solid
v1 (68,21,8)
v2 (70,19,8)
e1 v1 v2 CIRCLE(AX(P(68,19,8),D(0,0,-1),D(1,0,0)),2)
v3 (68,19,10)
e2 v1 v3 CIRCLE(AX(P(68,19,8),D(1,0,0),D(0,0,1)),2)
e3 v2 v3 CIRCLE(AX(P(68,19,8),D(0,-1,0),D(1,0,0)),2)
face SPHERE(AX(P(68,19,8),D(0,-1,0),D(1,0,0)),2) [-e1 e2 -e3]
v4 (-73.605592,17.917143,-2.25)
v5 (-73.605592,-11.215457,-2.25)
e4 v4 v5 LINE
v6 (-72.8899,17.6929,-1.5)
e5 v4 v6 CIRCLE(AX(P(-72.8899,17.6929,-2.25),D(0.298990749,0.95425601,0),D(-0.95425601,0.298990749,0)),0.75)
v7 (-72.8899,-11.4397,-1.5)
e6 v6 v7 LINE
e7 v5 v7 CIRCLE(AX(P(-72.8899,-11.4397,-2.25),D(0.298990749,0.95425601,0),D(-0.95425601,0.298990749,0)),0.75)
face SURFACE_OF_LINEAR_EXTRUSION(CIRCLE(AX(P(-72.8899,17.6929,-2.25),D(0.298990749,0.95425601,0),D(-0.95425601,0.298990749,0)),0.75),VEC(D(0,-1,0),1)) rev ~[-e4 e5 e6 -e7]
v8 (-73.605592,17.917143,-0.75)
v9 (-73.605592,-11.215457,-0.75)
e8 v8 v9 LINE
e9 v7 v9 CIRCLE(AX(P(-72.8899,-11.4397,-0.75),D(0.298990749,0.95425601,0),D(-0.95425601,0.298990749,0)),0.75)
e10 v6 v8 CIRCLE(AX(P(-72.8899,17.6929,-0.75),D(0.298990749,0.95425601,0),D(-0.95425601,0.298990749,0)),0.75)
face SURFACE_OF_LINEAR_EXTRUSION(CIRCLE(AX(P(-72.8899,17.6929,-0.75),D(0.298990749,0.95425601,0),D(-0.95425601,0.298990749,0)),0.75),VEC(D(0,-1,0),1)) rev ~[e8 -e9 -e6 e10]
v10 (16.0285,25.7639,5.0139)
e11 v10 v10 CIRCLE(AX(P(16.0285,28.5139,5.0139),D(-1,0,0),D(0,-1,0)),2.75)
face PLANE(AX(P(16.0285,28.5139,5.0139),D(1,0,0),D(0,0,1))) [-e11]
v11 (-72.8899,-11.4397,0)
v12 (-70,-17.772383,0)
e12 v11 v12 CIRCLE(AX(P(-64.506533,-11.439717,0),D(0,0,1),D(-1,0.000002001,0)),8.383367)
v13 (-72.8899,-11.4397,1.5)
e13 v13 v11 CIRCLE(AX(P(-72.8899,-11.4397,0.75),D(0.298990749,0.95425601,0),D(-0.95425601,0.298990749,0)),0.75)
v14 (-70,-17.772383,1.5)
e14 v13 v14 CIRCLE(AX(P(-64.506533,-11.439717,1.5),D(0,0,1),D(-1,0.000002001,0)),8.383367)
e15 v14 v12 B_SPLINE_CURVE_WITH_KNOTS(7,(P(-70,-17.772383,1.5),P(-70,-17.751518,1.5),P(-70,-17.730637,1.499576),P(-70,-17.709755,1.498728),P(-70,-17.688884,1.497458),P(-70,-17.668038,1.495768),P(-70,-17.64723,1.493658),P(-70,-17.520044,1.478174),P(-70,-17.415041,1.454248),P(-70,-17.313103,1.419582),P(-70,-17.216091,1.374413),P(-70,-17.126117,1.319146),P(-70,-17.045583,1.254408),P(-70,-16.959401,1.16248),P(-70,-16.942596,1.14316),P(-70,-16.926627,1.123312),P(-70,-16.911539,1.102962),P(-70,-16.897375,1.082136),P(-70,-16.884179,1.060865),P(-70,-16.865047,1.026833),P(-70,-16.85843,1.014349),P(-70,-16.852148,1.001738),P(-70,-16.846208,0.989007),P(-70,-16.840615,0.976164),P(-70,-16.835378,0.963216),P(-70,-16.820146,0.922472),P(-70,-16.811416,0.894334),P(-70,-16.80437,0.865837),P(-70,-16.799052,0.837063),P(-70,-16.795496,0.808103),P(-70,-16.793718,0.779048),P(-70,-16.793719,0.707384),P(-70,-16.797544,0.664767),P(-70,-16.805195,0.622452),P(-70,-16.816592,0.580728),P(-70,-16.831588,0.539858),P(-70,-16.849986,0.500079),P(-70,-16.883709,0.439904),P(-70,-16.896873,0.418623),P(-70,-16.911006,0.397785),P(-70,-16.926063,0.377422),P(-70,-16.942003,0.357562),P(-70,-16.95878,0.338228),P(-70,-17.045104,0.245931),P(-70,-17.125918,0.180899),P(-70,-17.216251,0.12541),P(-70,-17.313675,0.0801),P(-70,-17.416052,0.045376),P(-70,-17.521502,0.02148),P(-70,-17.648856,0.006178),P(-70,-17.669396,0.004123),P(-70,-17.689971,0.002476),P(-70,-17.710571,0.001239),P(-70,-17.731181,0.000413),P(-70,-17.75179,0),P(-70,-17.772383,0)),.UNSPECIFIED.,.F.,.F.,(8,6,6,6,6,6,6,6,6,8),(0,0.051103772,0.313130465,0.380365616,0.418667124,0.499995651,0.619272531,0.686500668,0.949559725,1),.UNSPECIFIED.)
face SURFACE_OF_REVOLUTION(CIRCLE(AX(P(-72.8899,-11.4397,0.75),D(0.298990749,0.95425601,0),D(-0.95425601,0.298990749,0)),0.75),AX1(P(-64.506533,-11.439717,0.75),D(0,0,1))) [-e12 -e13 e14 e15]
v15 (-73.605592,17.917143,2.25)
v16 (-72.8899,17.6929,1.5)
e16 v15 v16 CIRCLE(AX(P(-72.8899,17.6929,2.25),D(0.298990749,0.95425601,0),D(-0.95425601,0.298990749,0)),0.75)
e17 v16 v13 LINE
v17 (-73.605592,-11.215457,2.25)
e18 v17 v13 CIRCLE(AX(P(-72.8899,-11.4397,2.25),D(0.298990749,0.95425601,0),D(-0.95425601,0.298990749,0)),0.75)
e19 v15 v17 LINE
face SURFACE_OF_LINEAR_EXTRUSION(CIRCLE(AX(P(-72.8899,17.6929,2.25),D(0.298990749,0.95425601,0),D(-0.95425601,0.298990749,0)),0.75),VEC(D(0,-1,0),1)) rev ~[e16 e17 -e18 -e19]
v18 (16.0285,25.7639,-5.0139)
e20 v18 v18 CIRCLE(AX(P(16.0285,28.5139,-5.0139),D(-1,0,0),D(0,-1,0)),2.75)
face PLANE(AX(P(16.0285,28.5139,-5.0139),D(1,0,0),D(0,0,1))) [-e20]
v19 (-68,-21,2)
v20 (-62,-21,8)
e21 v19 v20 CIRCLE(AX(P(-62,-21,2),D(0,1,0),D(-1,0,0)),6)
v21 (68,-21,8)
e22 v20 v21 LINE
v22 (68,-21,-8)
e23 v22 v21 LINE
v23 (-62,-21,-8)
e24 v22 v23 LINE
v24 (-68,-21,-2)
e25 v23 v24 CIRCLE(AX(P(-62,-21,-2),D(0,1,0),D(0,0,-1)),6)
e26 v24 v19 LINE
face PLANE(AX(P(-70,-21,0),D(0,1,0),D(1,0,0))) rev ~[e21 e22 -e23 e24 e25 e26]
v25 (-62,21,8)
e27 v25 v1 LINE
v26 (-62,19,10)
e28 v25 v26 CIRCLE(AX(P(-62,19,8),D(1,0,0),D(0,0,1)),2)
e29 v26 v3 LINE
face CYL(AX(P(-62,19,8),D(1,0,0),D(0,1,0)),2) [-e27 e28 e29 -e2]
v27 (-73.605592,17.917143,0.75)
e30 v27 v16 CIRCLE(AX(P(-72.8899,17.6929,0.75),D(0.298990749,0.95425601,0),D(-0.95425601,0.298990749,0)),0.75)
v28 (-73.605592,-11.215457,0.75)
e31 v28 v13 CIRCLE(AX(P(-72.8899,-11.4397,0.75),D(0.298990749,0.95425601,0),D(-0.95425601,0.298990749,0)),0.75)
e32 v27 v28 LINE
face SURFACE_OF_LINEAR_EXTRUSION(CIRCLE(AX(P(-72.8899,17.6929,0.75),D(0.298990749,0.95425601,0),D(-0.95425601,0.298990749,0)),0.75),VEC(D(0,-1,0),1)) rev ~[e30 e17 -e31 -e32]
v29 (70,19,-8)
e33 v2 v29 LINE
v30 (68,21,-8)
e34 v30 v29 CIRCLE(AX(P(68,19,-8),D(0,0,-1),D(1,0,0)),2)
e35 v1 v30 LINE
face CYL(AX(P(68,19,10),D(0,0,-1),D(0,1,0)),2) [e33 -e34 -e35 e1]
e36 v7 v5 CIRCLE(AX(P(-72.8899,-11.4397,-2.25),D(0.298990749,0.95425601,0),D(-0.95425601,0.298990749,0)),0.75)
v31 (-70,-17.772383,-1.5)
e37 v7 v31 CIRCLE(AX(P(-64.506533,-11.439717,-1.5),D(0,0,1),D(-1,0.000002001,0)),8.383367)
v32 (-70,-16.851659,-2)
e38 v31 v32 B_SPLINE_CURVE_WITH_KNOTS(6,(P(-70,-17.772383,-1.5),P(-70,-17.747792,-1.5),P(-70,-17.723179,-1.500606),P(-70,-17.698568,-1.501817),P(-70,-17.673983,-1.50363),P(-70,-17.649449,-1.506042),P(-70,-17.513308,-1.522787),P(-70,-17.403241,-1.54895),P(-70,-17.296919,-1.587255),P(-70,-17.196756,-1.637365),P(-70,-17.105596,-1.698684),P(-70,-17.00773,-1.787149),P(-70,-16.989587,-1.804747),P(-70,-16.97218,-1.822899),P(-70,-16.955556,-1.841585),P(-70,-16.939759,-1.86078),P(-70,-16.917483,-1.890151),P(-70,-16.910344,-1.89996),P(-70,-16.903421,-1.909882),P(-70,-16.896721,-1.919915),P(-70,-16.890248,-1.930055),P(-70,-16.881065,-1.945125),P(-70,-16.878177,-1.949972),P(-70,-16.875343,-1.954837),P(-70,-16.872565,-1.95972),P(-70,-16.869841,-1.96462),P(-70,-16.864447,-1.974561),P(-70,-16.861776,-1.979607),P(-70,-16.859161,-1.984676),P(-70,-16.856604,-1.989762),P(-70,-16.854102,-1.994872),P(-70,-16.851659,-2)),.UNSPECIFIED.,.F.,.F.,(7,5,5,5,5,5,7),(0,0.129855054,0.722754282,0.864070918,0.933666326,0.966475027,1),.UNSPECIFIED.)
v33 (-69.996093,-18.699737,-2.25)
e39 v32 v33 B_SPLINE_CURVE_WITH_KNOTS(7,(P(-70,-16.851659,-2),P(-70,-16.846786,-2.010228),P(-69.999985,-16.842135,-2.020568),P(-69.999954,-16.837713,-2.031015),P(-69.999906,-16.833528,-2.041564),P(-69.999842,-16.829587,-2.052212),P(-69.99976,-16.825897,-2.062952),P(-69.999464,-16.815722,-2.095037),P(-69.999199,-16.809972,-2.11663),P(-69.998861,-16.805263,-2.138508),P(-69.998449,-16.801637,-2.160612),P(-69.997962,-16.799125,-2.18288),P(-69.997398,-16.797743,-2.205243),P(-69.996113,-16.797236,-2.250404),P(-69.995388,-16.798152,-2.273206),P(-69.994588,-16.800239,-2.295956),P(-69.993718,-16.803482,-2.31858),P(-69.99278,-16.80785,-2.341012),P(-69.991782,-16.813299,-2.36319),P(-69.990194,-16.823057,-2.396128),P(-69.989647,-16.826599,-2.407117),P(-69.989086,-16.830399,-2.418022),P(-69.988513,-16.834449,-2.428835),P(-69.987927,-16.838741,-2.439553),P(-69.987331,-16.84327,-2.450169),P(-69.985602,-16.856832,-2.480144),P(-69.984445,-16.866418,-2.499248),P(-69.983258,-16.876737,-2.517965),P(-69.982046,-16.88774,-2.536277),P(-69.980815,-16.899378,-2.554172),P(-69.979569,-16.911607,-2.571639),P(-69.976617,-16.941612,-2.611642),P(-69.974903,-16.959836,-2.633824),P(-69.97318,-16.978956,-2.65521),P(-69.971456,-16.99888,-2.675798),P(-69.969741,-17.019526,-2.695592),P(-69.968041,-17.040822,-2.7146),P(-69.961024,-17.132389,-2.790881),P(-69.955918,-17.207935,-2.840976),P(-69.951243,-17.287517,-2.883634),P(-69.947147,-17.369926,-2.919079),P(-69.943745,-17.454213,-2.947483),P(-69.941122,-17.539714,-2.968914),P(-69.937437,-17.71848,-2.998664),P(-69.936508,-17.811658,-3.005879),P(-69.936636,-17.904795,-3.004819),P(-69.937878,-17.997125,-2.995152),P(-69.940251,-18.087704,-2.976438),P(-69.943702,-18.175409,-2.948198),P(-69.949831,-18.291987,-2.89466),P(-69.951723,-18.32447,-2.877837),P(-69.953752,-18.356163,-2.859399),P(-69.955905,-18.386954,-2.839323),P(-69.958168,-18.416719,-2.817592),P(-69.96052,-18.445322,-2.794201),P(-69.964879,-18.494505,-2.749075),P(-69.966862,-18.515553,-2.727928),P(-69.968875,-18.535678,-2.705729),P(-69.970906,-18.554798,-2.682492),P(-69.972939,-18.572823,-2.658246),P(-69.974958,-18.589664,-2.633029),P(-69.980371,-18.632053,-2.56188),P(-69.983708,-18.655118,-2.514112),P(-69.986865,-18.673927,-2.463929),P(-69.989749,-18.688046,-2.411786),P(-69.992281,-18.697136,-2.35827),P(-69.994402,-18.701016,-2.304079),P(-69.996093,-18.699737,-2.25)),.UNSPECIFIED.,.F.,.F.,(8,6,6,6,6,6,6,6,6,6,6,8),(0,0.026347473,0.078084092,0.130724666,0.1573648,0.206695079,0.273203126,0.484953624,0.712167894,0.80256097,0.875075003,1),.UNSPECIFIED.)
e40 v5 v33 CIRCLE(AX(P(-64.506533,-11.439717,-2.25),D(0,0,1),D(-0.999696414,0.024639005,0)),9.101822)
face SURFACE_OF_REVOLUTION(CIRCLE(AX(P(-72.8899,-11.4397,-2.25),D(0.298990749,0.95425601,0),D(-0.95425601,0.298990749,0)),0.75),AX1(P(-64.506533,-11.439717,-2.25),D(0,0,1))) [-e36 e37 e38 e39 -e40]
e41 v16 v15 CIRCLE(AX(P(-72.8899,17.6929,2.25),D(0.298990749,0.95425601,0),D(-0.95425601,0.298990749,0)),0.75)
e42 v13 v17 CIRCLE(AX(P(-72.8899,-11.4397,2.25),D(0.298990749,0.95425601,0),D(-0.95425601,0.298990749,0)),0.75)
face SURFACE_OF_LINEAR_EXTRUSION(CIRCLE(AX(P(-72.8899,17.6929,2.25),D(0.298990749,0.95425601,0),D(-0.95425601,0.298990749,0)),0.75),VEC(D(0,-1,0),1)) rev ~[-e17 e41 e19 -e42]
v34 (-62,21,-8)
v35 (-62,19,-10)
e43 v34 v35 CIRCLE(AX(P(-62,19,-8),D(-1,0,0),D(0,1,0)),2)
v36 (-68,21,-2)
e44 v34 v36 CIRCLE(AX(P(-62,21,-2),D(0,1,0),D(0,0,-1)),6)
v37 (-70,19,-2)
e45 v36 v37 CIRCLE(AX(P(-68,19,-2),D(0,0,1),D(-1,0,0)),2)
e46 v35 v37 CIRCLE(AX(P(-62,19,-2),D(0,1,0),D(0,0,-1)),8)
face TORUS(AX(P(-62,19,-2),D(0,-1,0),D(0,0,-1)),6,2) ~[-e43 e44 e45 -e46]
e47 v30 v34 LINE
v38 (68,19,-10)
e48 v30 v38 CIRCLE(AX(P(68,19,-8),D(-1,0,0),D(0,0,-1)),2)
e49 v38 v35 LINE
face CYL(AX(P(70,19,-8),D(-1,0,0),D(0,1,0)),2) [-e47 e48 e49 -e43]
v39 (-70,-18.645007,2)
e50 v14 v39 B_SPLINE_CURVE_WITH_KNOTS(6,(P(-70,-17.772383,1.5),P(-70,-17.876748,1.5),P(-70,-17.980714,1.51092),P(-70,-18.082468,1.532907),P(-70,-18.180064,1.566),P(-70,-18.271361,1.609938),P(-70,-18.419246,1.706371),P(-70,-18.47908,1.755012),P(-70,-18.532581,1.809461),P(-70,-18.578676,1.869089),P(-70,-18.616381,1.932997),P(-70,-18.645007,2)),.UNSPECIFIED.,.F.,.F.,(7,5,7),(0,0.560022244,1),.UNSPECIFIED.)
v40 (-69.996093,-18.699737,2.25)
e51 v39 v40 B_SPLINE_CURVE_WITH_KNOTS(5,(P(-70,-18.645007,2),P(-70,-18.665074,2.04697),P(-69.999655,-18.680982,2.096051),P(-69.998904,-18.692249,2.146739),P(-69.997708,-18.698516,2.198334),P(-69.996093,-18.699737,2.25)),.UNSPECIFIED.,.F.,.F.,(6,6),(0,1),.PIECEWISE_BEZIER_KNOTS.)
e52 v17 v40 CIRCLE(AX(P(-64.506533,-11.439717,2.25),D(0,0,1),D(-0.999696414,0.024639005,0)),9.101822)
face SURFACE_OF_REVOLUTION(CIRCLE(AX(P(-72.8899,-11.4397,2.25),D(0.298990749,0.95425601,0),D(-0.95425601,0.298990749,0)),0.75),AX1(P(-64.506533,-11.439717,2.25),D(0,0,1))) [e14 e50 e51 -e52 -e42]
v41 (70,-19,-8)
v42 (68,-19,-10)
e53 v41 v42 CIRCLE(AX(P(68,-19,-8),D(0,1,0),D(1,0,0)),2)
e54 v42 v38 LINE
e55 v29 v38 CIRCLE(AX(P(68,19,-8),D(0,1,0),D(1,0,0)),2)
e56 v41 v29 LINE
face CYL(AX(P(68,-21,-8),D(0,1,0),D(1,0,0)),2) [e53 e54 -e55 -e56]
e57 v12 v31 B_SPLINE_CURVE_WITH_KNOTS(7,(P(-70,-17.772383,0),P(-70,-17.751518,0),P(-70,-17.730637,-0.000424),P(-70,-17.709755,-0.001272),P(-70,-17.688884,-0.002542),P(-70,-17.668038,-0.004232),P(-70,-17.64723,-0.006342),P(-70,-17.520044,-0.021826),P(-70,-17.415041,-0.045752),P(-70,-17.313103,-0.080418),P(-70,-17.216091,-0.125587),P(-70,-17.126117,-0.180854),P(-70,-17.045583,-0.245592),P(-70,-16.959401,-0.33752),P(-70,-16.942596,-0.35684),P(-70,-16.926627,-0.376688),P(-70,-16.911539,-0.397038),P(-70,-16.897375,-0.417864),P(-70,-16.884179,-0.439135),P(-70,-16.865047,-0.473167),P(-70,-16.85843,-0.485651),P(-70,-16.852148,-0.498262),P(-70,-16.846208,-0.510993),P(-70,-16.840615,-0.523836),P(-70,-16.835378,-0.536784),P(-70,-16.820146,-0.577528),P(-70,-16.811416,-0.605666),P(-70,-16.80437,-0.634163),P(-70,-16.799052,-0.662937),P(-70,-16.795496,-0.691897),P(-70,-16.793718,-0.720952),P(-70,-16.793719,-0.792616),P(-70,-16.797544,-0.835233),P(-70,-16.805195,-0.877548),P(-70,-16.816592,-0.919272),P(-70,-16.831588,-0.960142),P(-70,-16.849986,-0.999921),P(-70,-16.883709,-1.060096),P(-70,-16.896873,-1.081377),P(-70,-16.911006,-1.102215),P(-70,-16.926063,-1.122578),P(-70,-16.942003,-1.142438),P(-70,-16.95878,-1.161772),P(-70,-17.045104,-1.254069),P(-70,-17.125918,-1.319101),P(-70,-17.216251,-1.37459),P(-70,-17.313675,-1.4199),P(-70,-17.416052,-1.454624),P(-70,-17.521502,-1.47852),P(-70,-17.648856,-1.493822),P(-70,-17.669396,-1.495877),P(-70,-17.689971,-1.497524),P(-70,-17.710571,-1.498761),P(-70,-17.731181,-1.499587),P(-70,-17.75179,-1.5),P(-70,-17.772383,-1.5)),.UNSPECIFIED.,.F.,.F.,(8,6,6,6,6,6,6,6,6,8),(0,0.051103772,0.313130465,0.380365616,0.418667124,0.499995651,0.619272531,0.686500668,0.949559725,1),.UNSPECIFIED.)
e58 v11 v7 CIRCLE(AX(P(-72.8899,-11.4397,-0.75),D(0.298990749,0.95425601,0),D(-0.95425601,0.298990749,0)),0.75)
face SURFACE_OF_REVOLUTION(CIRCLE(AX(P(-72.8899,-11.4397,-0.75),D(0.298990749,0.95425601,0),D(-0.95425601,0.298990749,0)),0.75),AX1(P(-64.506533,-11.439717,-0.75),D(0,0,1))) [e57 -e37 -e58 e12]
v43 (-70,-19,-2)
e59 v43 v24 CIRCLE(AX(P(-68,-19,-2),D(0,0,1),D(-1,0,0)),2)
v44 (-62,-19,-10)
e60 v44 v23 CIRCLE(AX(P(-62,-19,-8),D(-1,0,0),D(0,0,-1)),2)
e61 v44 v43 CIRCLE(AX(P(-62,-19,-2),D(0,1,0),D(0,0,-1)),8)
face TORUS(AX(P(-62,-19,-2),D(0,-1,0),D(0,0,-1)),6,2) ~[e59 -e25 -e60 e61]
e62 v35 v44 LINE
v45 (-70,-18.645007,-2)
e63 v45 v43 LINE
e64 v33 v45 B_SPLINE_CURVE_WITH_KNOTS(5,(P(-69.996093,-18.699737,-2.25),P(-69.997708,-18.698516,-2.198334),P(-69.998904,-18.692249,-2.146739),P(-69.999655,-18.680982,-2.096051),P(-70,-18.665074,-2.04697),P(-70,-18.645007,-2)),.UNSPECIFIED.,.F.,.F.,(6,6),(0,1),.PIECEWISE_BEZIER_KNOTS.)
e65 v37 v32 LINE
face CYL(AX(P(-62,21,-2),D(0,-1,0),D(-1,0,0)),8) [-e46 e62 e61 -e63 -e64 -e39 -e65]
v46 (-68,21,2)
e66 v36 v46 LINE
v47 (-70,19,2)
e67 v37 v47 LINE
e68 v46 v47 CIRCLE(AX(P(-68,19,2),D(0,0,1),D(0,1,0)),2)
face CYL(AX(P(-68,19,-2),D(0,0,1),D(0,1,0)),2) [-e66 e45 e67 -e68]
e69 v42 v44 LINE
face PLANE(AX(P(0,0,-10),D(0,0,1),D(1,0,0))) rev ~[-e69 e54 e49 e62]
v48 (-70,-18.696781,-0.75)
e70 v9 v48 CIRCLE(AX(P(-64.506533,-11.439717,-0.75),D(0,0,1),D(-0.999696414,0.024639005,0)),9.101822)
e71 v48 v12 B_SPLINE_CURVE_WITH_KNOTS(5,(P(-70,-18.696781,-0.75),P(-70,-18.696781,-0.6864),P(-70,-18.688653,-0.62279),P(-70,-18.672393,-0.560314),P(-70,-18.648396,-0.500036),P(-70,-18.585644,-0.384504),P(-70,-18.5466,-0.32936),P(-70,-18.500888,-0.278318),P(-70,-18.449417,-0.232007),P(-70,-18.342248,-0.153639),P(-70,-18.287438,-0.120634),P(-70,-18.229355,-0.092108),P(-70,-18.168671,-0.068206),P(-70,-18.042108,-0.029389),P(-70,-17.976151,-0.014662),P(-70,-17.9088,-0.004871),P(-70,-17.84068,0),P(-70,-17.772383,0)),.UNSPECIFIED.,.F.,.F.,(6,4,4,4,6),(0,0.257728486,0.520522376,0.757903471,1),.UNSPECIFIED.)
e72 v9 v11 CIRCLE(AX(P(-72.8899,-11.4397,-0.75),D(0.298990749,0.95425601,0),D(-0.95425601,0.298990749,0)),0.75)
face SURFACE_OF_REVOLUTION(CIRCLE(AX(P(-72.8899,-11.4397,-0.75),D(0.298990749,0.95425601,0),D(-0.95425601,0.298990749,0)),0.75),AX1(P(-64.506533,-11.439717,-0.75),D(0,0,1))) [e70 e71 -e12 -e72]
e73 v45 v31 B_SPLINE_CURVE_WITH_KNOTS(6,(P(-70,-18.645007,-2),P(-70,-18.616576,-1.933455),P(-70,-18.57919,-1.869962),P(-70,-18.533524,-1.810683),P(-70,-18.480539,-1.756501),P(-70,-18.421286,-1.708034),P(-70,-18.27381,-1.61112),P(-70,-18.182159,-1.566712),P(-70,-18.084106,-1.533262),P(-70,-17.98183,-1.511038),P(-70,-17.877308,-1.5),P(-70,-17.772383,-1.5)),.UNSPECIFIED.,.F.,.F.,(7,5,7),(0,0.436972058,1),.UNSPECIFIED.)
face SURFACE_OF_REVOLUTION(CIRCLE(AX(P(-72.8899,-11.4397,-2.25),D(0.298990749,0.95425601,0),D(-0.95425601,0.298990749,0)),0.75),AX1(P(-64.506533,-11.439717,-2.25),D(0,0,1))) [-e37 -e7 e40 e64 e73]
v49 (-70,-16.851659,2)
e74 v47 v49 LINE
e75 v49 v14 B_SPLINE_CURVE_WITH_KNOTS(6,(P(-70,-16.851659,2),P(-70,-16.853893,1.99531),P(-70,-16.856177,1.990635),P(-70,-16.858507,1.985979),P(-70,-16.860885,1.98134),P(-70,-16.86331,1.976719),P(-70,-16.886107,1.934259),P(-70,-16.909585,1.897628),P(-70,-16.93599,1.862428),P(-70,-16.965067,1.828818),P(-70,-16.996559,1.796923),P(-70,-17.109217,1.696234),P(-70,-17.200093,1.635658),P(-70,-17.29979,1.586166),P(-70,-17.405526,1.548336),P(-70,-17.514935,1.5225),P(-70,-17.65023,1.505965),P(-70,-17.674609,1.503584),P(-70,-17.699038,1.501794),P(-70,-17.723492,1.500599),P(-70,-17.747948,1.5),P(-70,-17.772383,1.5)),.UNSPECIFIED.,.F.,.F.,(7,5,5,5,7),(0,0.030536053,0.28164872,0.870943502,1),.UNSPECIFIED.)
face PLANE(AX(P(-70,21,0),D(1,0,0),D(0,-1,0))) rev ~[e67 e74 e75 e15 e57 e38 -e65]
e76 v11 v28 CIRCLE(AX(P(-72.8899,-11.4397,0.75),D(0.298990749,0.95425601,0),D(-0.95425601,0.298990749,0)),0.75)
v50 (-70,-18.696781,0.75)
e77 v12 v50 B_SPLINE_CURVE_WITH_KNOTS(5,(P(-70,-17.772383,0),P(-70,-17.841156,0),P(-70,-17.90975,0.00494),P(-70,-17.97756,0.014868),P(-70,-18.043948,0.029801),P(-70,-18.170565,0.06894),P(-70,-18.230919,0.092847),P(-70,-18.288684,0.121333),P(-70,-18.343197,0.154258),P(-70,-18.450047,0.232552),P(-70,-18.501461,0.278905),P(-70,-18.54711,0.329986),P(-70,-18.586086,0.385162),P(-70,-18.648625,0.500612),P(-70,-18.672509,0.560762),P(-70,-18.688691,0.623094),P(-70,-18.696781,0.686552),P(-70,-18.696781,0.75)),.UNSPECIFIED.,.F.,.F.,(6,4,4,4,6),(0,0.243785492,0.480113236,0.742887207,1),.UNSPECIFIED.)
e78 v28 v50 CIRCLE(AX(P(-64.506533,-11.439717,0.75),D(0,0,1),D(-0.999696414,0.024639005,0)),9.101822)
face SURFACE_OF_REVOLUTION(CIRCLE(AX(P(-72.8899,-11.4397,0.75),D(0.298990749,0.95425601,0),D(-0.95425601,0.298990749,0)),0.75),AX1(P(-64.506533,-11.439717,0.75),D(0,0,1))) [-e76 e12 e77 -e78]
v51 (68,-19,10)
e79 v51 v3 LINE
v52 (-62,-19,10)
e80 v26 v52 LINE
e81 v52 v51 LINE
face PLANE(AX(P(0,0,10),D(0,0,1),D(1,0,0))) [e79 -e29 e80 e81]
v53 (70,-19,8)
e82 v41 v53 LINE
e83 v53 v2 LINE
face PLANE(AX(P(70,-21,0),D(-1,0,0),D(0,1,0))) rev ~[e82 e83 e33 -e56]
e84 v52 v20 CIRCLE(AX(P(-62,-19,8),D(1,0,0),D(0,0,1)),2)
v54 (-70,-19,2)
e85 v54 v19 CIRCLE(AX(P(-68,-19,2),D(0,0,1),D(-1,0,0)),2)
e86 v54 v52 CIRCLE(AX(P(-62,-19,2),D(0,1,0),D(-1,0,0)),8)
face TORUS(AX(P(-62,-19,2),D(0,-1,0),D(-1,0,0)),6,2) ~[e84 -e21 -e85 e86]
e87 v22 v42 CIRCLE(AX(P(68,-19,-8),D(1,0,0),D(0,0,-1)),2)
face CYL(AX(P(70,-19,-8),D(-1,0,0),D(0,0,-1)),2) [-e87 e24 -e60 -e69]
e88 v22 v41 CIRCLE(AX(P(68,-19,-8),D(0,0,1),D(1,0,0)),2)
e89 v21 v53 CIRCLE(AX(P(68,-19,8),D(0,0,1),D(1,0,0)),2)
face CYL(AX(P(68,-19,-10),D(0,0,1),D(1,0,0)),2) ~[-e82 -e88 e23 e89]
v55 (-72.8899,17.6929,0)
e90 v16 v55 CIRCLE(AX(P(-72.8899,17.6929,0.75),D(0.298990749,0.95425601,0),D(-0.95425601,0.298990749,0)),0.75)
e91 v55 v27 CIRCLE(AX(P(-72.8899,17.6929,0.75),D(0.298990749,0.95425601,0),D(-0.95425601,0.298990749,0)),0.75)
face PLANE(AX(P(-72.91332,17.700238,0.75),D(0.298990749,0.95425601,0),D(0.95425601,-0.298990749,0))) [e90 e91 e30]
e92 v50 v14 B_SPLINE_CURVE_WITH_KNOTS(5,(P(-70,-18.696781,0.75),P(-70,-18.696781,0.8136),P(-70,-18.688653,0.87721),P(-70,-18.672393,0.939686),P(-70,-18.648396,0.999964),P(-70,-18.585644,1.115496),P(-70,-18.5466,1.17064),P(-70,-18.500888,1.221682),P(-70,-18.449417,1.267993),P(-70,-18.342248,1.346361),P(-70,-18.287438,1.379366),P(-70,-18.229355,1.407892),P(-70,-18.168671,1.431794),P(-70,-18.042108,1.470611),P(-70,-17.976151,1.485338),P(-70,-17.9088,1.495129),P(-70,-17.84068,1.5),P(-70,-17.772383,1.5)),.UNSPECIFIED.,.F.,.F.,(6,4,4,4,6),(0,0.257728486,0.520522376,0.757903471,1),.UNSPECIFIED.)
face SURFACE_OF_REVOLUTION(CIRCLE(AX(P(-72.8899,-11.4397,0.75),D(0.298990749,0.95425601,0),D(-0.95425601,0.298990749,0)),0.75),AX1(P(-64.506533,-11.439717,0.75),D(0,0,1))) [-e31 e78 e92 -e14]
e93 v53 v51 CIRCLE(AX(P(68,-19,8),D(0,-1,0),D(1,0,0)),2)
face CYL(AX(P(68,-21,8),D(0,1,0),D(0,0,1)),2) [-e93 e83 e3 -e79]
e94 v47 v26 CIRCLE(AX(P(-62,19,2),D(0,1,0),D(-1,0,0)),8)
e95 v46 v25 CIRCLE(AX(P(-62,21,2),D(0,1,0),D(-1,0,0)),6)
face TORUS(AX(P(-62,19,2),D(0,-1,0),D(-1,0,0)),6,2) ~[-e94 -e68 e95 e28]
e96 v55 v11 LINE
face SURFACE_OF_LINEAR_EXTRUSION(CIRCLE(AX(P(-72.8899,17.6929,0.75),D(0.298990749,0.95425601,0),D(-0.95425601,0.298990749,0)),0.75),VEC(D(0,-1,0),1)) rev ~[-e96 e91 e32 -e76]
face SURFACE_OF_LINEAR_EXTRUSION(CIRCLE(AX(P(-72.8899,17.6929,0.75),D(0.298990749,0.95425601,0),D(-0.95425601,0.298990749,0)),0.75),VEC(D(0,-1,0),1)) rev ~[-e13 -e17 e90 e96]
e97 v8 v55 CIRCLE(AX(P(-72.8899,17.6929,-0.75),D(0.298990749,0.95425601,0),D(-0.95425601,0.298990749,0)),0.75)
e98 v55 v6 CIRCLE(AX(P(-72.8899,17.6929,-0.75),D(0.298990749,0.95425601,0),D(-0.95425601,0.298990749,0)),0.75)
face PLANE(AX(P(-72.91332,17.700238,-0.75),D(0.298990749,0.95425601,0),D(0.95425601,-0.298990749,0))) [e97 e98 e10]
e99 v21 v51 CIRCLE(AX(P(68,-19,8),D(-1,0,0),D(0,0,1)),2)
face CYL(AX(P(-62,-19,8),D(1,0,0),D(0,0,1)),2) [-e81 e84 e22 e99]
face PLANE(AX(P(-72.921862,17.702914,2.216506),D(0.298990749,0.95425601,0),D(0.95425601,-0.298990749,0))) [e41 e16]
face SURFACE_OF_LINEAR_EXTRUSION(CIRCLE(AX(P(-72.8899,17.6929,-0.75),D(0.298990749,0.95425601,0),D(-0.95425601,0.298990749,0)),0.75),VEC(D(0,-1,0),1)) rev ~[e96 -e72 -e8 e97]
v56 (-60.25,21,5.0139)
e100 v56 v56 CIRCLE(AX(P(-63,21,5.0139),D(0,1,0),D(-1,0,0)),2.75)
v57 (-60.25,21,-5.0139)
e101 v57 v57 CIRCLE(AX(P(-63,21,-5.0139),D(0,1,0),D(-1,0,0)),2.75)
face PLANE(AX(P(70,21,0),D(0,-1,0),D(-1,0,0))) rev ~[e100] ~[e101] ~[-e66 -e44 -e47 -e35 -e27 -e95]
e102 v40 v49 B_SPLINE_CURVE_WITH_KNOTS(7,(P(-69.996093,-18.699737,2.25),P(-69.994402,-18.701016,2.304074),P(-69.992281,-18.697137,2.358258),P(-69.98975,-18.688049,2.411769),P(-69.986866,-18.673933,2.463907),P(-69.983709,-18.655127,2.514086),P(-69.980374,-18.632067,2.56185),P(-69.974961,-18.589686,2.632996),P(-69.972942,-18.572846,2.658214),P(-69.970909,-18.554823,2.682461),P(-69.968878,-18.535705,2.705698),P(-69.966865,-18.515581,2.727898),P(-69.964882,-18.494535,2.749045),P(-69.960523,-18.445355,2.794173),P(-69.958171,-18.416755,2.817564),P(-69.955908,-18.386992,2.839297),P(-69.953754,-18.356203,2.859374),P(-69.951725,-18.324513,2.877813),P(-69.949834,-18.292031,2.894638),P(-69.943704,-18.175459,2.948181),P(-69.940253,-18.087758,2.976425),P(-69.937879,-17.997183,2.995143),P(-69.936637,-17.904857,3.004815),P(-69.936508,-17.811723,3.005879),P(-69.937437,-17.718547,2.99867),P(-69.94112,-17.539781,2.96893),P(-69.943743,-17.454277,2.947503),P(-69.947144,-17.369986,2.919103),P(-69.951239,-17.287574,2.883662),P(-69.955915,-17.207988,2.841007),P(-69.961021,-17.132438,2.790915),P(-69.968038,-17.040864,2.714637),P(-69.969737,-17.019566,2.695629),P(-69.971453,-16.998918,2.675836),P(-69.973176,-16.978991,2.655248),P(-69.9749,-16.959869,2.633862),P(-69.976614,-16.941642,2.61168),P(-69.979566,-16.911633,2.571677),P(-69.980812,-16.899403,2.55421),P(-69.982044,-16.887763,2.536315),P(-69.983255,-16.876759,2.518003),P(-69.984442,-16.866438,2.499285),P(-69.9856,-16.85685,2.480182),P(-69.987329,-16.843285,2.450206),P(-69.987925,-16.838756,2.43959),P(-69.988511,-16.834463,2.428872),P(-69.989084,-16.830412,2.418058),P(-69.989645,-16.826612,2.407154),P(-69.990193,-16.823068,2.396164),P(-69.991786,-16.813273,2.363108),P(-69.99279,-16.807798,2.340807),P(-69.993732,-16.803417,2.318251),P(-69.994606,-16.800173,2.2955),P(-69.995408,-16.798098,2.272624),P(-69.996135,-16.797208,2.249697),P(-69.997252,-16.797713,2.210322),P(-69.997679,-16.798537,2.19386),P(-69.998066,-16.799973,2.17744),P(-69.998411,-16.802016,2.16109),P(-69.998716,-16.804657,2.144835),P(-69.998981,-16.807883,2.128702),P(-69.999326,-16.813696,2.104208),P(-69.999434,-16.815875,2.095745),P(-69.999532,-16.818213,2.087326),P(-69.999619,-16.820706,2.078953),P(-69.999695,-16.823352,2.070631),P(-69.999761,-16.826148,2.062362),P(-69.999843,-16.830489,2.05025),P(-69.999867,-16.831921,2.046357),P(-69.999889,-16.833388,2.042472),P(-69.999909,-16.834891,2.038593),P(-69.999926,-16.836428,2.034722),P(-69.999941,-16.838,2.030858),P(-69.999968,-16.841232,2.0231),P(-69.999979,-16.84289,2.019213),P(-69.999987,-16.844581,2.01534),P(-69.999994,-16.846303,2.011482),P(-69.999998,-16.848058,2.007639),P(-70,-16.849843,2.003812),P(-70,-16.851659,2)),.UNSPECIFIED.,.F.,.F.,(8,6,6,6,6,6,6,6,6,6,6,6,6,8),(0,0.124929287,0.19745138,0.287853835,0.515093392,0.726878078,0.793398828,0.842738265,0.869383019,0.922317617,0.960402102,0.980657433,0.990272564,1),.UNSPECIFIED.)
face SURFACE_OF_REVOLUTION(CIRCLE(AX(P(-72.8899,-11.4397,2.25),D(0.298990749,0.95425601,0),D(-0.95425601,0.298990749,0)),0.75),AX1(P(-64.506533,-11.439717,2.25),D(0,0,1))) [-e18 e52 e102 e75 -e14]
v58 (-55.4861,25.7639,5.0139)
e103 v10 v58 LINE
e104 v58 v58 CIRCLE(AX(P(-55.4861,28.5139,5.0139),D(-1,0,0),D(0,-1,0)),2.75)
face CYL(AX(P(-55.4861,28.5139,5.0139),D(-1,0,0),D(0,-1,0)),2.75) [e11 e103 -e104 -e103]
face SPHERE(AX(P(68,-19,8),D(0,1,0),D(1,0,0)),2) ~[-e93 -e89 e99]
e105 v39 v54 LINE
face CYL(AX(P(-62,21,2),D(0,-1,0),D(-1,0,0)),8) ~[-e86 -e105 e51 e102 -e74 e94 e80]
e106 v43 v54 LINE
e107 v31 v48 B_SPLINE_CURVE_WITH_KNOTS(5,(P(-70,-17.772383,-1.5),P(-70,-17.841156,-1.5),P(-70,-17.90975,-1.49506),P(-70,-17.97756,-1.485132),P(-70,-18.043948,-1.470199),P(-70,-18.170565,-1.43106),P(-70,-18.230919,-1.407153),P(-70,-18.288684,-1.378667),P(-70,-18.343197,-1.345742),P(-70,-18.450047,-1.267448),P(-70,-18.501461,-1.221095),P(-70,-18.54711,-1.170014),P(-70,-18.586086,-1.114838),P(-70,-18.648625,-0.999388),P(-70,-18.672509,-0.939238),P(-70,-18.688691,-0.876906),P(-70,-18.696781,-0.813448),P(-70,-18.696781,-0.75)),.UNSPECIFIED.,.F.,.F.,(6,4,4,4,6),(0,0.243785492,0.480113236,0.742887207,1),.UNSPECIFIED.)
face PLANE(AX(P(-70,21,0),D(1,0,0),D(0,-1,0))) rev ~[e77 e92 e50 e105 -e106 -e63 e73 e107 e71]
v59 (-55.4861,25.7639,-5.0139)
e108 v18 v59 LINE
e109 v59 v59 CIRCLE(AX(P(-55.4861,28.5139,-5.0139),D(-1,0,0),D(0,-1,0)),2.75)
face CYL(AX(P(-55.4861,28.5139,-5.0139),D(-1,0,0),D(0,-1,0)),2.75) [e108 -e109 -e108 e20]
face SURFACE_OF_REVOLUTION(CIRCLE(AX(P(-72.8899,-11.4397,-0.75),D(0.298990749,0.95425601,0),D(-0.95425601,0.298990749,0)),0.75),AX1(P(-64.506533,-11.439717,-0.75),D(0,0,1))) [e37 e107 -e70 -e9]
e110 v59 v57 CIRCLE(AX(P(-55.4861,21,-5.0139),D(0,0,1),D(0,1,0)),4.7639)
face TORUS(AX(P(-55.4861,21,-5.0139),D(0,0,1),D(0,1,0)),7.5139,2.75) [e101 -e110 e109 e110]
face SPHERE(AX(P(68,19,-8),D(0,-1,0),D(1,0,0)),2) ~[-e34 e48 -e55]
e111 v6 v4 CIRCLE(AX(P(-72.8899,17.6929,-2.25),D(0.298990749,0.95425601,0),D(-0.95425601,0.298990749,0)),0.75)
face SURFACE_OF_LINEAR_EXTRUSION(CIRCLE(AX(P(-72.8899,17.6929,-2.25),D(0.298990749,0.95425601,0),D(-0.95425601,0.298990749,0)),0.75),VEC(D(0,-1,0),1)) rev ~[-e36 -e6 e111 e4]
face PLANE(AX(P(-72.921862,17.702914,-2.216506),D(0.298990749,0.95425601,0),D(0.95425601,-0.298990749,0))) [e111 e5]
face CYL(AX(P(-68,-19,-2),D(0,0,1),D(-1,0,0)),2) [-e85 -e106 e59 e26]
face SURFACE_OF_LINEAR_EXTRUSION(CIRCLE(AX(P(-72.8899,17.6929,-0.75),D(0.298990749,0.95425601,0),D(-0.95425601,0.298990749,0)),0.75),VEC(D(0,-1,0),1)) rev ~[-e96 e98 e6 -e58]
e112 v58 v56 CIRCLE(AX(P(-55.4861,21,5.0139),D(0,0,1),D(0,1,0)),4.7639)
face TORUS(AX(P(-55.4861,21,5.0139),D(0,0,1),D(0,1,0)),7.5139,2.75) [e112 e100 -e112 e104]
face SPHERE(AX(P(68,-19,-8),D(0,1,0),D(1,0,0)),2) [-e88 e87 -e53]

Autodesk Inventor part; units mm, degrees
ref_plane "XZ Plane" through (0, 0, 0) normal (0, 1, 0) x (-1, 0, 0)
ref_plane "XY Plane" through (0, 0, 0) normal (0, 0, 1) x (1, 0, 0)
sketch "Sketch1" plane through (0, 0, 0) normal (0, 0, 1) x (1, 0, 0)
  line L0 (-70, -21) -> (70, -21)
  line L1 (70, -21) -> (70, 21)
  line L2 (70, 21) -> (-70, 21)
  line L3 (-70, 21) -> (-70, -21)
  line L4 (-70, -21) -> (70, 21) construction
  line L5 (70, -21) -> (-70, 21) construction
  point P0 (0, 0)
  dimension "d0" = 140
  dimension "d1" = 42
extrude "Extrusion1" add sketch "Sketch1" along normal mid plane 20
sketch "Sketch2" plane through (-70, 21, 10) normal (0, 1, 0) x (1, 0, 0)
  line L0 (0, 20) -> (0, 0) projected
  line L1 (140, 0) -> (0, 0) projected
  line L2 (140, 20) -> (140, 0) projected
  line L3 (0, 20) -> (140, 20) projected
  line L4 (0, 20) -> (0, 0) construction
  line L5 (0, 10) -> (140, 10) construction
  circle A0 centre (7, 15.0139) radius 2.75
  circle A1 centre (7, 4.9861) radius 2.75
  line L6 (7, 4.9861) -> (7, 15.0139) construction
  point P0 (70, 10)
  point P1 (7, 10)
  dimension "d4" = 5.5
  dimension "d5" = 5.5
  dimension "d6" = 7
sketch "Sketch3" plane through (0, 0, 0) normal (0, 0, 1) x (1, 0, 0)
  arc A0 (-55.4861, 28.5139) -> (-63, 21) centre (-55.4861, 21) ccw
  line L0 (70, 21) -> (-70, 21) projected
  line L1 (-55.4861, 28.5139) -> (16.0285, 28.5139)
  point P0 (0, 0)
sweep "Sweep1" add profiles "Sketch2" path "Sketch3" path curves A0 L1 contours A0 | A1
fillet "Fillet1" radius 8 2 edges at (-70, 0, -10) (-70, 0, 10)
ref_plane "Work Plane1" through (-62, 21, 10) normal (-1, 0, 0) x (0, -1, 0)
sketch "Sketch4" plane through (-62, 21, 10) normal (-1, 0, 0) x (0, -1, 0)
  line L0 (0, -20) -> (0, 0) projected
  line L1 (42, 0) -> (0, 0) projected
  line L2 (42, -20) -> (42, 0) projected
  line L3 (0, -20) -> (42, -20) projected
  line L4 (0, -20) -> (0, 0) construction
  line L5 (0, -10) -> (42, -10) construction
  circle A0 centre (40.4396, -12.25) radius 0.75
  circle A1 centre (40.4396, -10.75) radius 0.75
  circle A2 centre (40.4396, -7.75) radius 0.75
  circle A3 centre (40.4396, -9.25) radius 0.75
  point P0 (21, -10)
  dimension "d10" = 1.5
  dimension "d11" = 1.5
  dimension "d12" = 0.75
  dimension "d13" = 1.5
sketch "Sketch5" plane through (0, 0, 0) normal (0, 0, 1) x (1, 0, 0)
  line L0 (-72.8899, 17.6929) -> (-72.8899, -11.4397)
  line L1 (-101.4679, 0) -> (98.578, 0) construction
  line L2 (0, -31.4528) -> (0, 41.7167) construction
  arc A0 (-72.8899, -11.4397) -> (-62, -19.4396) centre (-64.5065, -11.4397) ccw
  point P0 (0, 0)
sweep "Sweep2" add profiles "Sketch4" path "Sketch5" contours A0 | A2 | A3 | A1
fillet "Fillet2" radius 2 14 edges at (70, 0, 10) (70, 0, -10) (70, 21, 0) (70, -21, 0) (-67.6569, -21, 7.6569) (-70, -21, 0) (-67.6569, -21, -7.6569) (4, -21, -10) (4, -21, 10) (-67.6569, 21, 7.6569) (-70, 21, 0) (-67.6569, 21, -7.6569) (4, 21, -10) (4, 21, 10)
properties part number "Battery_LI polymer_30C"
